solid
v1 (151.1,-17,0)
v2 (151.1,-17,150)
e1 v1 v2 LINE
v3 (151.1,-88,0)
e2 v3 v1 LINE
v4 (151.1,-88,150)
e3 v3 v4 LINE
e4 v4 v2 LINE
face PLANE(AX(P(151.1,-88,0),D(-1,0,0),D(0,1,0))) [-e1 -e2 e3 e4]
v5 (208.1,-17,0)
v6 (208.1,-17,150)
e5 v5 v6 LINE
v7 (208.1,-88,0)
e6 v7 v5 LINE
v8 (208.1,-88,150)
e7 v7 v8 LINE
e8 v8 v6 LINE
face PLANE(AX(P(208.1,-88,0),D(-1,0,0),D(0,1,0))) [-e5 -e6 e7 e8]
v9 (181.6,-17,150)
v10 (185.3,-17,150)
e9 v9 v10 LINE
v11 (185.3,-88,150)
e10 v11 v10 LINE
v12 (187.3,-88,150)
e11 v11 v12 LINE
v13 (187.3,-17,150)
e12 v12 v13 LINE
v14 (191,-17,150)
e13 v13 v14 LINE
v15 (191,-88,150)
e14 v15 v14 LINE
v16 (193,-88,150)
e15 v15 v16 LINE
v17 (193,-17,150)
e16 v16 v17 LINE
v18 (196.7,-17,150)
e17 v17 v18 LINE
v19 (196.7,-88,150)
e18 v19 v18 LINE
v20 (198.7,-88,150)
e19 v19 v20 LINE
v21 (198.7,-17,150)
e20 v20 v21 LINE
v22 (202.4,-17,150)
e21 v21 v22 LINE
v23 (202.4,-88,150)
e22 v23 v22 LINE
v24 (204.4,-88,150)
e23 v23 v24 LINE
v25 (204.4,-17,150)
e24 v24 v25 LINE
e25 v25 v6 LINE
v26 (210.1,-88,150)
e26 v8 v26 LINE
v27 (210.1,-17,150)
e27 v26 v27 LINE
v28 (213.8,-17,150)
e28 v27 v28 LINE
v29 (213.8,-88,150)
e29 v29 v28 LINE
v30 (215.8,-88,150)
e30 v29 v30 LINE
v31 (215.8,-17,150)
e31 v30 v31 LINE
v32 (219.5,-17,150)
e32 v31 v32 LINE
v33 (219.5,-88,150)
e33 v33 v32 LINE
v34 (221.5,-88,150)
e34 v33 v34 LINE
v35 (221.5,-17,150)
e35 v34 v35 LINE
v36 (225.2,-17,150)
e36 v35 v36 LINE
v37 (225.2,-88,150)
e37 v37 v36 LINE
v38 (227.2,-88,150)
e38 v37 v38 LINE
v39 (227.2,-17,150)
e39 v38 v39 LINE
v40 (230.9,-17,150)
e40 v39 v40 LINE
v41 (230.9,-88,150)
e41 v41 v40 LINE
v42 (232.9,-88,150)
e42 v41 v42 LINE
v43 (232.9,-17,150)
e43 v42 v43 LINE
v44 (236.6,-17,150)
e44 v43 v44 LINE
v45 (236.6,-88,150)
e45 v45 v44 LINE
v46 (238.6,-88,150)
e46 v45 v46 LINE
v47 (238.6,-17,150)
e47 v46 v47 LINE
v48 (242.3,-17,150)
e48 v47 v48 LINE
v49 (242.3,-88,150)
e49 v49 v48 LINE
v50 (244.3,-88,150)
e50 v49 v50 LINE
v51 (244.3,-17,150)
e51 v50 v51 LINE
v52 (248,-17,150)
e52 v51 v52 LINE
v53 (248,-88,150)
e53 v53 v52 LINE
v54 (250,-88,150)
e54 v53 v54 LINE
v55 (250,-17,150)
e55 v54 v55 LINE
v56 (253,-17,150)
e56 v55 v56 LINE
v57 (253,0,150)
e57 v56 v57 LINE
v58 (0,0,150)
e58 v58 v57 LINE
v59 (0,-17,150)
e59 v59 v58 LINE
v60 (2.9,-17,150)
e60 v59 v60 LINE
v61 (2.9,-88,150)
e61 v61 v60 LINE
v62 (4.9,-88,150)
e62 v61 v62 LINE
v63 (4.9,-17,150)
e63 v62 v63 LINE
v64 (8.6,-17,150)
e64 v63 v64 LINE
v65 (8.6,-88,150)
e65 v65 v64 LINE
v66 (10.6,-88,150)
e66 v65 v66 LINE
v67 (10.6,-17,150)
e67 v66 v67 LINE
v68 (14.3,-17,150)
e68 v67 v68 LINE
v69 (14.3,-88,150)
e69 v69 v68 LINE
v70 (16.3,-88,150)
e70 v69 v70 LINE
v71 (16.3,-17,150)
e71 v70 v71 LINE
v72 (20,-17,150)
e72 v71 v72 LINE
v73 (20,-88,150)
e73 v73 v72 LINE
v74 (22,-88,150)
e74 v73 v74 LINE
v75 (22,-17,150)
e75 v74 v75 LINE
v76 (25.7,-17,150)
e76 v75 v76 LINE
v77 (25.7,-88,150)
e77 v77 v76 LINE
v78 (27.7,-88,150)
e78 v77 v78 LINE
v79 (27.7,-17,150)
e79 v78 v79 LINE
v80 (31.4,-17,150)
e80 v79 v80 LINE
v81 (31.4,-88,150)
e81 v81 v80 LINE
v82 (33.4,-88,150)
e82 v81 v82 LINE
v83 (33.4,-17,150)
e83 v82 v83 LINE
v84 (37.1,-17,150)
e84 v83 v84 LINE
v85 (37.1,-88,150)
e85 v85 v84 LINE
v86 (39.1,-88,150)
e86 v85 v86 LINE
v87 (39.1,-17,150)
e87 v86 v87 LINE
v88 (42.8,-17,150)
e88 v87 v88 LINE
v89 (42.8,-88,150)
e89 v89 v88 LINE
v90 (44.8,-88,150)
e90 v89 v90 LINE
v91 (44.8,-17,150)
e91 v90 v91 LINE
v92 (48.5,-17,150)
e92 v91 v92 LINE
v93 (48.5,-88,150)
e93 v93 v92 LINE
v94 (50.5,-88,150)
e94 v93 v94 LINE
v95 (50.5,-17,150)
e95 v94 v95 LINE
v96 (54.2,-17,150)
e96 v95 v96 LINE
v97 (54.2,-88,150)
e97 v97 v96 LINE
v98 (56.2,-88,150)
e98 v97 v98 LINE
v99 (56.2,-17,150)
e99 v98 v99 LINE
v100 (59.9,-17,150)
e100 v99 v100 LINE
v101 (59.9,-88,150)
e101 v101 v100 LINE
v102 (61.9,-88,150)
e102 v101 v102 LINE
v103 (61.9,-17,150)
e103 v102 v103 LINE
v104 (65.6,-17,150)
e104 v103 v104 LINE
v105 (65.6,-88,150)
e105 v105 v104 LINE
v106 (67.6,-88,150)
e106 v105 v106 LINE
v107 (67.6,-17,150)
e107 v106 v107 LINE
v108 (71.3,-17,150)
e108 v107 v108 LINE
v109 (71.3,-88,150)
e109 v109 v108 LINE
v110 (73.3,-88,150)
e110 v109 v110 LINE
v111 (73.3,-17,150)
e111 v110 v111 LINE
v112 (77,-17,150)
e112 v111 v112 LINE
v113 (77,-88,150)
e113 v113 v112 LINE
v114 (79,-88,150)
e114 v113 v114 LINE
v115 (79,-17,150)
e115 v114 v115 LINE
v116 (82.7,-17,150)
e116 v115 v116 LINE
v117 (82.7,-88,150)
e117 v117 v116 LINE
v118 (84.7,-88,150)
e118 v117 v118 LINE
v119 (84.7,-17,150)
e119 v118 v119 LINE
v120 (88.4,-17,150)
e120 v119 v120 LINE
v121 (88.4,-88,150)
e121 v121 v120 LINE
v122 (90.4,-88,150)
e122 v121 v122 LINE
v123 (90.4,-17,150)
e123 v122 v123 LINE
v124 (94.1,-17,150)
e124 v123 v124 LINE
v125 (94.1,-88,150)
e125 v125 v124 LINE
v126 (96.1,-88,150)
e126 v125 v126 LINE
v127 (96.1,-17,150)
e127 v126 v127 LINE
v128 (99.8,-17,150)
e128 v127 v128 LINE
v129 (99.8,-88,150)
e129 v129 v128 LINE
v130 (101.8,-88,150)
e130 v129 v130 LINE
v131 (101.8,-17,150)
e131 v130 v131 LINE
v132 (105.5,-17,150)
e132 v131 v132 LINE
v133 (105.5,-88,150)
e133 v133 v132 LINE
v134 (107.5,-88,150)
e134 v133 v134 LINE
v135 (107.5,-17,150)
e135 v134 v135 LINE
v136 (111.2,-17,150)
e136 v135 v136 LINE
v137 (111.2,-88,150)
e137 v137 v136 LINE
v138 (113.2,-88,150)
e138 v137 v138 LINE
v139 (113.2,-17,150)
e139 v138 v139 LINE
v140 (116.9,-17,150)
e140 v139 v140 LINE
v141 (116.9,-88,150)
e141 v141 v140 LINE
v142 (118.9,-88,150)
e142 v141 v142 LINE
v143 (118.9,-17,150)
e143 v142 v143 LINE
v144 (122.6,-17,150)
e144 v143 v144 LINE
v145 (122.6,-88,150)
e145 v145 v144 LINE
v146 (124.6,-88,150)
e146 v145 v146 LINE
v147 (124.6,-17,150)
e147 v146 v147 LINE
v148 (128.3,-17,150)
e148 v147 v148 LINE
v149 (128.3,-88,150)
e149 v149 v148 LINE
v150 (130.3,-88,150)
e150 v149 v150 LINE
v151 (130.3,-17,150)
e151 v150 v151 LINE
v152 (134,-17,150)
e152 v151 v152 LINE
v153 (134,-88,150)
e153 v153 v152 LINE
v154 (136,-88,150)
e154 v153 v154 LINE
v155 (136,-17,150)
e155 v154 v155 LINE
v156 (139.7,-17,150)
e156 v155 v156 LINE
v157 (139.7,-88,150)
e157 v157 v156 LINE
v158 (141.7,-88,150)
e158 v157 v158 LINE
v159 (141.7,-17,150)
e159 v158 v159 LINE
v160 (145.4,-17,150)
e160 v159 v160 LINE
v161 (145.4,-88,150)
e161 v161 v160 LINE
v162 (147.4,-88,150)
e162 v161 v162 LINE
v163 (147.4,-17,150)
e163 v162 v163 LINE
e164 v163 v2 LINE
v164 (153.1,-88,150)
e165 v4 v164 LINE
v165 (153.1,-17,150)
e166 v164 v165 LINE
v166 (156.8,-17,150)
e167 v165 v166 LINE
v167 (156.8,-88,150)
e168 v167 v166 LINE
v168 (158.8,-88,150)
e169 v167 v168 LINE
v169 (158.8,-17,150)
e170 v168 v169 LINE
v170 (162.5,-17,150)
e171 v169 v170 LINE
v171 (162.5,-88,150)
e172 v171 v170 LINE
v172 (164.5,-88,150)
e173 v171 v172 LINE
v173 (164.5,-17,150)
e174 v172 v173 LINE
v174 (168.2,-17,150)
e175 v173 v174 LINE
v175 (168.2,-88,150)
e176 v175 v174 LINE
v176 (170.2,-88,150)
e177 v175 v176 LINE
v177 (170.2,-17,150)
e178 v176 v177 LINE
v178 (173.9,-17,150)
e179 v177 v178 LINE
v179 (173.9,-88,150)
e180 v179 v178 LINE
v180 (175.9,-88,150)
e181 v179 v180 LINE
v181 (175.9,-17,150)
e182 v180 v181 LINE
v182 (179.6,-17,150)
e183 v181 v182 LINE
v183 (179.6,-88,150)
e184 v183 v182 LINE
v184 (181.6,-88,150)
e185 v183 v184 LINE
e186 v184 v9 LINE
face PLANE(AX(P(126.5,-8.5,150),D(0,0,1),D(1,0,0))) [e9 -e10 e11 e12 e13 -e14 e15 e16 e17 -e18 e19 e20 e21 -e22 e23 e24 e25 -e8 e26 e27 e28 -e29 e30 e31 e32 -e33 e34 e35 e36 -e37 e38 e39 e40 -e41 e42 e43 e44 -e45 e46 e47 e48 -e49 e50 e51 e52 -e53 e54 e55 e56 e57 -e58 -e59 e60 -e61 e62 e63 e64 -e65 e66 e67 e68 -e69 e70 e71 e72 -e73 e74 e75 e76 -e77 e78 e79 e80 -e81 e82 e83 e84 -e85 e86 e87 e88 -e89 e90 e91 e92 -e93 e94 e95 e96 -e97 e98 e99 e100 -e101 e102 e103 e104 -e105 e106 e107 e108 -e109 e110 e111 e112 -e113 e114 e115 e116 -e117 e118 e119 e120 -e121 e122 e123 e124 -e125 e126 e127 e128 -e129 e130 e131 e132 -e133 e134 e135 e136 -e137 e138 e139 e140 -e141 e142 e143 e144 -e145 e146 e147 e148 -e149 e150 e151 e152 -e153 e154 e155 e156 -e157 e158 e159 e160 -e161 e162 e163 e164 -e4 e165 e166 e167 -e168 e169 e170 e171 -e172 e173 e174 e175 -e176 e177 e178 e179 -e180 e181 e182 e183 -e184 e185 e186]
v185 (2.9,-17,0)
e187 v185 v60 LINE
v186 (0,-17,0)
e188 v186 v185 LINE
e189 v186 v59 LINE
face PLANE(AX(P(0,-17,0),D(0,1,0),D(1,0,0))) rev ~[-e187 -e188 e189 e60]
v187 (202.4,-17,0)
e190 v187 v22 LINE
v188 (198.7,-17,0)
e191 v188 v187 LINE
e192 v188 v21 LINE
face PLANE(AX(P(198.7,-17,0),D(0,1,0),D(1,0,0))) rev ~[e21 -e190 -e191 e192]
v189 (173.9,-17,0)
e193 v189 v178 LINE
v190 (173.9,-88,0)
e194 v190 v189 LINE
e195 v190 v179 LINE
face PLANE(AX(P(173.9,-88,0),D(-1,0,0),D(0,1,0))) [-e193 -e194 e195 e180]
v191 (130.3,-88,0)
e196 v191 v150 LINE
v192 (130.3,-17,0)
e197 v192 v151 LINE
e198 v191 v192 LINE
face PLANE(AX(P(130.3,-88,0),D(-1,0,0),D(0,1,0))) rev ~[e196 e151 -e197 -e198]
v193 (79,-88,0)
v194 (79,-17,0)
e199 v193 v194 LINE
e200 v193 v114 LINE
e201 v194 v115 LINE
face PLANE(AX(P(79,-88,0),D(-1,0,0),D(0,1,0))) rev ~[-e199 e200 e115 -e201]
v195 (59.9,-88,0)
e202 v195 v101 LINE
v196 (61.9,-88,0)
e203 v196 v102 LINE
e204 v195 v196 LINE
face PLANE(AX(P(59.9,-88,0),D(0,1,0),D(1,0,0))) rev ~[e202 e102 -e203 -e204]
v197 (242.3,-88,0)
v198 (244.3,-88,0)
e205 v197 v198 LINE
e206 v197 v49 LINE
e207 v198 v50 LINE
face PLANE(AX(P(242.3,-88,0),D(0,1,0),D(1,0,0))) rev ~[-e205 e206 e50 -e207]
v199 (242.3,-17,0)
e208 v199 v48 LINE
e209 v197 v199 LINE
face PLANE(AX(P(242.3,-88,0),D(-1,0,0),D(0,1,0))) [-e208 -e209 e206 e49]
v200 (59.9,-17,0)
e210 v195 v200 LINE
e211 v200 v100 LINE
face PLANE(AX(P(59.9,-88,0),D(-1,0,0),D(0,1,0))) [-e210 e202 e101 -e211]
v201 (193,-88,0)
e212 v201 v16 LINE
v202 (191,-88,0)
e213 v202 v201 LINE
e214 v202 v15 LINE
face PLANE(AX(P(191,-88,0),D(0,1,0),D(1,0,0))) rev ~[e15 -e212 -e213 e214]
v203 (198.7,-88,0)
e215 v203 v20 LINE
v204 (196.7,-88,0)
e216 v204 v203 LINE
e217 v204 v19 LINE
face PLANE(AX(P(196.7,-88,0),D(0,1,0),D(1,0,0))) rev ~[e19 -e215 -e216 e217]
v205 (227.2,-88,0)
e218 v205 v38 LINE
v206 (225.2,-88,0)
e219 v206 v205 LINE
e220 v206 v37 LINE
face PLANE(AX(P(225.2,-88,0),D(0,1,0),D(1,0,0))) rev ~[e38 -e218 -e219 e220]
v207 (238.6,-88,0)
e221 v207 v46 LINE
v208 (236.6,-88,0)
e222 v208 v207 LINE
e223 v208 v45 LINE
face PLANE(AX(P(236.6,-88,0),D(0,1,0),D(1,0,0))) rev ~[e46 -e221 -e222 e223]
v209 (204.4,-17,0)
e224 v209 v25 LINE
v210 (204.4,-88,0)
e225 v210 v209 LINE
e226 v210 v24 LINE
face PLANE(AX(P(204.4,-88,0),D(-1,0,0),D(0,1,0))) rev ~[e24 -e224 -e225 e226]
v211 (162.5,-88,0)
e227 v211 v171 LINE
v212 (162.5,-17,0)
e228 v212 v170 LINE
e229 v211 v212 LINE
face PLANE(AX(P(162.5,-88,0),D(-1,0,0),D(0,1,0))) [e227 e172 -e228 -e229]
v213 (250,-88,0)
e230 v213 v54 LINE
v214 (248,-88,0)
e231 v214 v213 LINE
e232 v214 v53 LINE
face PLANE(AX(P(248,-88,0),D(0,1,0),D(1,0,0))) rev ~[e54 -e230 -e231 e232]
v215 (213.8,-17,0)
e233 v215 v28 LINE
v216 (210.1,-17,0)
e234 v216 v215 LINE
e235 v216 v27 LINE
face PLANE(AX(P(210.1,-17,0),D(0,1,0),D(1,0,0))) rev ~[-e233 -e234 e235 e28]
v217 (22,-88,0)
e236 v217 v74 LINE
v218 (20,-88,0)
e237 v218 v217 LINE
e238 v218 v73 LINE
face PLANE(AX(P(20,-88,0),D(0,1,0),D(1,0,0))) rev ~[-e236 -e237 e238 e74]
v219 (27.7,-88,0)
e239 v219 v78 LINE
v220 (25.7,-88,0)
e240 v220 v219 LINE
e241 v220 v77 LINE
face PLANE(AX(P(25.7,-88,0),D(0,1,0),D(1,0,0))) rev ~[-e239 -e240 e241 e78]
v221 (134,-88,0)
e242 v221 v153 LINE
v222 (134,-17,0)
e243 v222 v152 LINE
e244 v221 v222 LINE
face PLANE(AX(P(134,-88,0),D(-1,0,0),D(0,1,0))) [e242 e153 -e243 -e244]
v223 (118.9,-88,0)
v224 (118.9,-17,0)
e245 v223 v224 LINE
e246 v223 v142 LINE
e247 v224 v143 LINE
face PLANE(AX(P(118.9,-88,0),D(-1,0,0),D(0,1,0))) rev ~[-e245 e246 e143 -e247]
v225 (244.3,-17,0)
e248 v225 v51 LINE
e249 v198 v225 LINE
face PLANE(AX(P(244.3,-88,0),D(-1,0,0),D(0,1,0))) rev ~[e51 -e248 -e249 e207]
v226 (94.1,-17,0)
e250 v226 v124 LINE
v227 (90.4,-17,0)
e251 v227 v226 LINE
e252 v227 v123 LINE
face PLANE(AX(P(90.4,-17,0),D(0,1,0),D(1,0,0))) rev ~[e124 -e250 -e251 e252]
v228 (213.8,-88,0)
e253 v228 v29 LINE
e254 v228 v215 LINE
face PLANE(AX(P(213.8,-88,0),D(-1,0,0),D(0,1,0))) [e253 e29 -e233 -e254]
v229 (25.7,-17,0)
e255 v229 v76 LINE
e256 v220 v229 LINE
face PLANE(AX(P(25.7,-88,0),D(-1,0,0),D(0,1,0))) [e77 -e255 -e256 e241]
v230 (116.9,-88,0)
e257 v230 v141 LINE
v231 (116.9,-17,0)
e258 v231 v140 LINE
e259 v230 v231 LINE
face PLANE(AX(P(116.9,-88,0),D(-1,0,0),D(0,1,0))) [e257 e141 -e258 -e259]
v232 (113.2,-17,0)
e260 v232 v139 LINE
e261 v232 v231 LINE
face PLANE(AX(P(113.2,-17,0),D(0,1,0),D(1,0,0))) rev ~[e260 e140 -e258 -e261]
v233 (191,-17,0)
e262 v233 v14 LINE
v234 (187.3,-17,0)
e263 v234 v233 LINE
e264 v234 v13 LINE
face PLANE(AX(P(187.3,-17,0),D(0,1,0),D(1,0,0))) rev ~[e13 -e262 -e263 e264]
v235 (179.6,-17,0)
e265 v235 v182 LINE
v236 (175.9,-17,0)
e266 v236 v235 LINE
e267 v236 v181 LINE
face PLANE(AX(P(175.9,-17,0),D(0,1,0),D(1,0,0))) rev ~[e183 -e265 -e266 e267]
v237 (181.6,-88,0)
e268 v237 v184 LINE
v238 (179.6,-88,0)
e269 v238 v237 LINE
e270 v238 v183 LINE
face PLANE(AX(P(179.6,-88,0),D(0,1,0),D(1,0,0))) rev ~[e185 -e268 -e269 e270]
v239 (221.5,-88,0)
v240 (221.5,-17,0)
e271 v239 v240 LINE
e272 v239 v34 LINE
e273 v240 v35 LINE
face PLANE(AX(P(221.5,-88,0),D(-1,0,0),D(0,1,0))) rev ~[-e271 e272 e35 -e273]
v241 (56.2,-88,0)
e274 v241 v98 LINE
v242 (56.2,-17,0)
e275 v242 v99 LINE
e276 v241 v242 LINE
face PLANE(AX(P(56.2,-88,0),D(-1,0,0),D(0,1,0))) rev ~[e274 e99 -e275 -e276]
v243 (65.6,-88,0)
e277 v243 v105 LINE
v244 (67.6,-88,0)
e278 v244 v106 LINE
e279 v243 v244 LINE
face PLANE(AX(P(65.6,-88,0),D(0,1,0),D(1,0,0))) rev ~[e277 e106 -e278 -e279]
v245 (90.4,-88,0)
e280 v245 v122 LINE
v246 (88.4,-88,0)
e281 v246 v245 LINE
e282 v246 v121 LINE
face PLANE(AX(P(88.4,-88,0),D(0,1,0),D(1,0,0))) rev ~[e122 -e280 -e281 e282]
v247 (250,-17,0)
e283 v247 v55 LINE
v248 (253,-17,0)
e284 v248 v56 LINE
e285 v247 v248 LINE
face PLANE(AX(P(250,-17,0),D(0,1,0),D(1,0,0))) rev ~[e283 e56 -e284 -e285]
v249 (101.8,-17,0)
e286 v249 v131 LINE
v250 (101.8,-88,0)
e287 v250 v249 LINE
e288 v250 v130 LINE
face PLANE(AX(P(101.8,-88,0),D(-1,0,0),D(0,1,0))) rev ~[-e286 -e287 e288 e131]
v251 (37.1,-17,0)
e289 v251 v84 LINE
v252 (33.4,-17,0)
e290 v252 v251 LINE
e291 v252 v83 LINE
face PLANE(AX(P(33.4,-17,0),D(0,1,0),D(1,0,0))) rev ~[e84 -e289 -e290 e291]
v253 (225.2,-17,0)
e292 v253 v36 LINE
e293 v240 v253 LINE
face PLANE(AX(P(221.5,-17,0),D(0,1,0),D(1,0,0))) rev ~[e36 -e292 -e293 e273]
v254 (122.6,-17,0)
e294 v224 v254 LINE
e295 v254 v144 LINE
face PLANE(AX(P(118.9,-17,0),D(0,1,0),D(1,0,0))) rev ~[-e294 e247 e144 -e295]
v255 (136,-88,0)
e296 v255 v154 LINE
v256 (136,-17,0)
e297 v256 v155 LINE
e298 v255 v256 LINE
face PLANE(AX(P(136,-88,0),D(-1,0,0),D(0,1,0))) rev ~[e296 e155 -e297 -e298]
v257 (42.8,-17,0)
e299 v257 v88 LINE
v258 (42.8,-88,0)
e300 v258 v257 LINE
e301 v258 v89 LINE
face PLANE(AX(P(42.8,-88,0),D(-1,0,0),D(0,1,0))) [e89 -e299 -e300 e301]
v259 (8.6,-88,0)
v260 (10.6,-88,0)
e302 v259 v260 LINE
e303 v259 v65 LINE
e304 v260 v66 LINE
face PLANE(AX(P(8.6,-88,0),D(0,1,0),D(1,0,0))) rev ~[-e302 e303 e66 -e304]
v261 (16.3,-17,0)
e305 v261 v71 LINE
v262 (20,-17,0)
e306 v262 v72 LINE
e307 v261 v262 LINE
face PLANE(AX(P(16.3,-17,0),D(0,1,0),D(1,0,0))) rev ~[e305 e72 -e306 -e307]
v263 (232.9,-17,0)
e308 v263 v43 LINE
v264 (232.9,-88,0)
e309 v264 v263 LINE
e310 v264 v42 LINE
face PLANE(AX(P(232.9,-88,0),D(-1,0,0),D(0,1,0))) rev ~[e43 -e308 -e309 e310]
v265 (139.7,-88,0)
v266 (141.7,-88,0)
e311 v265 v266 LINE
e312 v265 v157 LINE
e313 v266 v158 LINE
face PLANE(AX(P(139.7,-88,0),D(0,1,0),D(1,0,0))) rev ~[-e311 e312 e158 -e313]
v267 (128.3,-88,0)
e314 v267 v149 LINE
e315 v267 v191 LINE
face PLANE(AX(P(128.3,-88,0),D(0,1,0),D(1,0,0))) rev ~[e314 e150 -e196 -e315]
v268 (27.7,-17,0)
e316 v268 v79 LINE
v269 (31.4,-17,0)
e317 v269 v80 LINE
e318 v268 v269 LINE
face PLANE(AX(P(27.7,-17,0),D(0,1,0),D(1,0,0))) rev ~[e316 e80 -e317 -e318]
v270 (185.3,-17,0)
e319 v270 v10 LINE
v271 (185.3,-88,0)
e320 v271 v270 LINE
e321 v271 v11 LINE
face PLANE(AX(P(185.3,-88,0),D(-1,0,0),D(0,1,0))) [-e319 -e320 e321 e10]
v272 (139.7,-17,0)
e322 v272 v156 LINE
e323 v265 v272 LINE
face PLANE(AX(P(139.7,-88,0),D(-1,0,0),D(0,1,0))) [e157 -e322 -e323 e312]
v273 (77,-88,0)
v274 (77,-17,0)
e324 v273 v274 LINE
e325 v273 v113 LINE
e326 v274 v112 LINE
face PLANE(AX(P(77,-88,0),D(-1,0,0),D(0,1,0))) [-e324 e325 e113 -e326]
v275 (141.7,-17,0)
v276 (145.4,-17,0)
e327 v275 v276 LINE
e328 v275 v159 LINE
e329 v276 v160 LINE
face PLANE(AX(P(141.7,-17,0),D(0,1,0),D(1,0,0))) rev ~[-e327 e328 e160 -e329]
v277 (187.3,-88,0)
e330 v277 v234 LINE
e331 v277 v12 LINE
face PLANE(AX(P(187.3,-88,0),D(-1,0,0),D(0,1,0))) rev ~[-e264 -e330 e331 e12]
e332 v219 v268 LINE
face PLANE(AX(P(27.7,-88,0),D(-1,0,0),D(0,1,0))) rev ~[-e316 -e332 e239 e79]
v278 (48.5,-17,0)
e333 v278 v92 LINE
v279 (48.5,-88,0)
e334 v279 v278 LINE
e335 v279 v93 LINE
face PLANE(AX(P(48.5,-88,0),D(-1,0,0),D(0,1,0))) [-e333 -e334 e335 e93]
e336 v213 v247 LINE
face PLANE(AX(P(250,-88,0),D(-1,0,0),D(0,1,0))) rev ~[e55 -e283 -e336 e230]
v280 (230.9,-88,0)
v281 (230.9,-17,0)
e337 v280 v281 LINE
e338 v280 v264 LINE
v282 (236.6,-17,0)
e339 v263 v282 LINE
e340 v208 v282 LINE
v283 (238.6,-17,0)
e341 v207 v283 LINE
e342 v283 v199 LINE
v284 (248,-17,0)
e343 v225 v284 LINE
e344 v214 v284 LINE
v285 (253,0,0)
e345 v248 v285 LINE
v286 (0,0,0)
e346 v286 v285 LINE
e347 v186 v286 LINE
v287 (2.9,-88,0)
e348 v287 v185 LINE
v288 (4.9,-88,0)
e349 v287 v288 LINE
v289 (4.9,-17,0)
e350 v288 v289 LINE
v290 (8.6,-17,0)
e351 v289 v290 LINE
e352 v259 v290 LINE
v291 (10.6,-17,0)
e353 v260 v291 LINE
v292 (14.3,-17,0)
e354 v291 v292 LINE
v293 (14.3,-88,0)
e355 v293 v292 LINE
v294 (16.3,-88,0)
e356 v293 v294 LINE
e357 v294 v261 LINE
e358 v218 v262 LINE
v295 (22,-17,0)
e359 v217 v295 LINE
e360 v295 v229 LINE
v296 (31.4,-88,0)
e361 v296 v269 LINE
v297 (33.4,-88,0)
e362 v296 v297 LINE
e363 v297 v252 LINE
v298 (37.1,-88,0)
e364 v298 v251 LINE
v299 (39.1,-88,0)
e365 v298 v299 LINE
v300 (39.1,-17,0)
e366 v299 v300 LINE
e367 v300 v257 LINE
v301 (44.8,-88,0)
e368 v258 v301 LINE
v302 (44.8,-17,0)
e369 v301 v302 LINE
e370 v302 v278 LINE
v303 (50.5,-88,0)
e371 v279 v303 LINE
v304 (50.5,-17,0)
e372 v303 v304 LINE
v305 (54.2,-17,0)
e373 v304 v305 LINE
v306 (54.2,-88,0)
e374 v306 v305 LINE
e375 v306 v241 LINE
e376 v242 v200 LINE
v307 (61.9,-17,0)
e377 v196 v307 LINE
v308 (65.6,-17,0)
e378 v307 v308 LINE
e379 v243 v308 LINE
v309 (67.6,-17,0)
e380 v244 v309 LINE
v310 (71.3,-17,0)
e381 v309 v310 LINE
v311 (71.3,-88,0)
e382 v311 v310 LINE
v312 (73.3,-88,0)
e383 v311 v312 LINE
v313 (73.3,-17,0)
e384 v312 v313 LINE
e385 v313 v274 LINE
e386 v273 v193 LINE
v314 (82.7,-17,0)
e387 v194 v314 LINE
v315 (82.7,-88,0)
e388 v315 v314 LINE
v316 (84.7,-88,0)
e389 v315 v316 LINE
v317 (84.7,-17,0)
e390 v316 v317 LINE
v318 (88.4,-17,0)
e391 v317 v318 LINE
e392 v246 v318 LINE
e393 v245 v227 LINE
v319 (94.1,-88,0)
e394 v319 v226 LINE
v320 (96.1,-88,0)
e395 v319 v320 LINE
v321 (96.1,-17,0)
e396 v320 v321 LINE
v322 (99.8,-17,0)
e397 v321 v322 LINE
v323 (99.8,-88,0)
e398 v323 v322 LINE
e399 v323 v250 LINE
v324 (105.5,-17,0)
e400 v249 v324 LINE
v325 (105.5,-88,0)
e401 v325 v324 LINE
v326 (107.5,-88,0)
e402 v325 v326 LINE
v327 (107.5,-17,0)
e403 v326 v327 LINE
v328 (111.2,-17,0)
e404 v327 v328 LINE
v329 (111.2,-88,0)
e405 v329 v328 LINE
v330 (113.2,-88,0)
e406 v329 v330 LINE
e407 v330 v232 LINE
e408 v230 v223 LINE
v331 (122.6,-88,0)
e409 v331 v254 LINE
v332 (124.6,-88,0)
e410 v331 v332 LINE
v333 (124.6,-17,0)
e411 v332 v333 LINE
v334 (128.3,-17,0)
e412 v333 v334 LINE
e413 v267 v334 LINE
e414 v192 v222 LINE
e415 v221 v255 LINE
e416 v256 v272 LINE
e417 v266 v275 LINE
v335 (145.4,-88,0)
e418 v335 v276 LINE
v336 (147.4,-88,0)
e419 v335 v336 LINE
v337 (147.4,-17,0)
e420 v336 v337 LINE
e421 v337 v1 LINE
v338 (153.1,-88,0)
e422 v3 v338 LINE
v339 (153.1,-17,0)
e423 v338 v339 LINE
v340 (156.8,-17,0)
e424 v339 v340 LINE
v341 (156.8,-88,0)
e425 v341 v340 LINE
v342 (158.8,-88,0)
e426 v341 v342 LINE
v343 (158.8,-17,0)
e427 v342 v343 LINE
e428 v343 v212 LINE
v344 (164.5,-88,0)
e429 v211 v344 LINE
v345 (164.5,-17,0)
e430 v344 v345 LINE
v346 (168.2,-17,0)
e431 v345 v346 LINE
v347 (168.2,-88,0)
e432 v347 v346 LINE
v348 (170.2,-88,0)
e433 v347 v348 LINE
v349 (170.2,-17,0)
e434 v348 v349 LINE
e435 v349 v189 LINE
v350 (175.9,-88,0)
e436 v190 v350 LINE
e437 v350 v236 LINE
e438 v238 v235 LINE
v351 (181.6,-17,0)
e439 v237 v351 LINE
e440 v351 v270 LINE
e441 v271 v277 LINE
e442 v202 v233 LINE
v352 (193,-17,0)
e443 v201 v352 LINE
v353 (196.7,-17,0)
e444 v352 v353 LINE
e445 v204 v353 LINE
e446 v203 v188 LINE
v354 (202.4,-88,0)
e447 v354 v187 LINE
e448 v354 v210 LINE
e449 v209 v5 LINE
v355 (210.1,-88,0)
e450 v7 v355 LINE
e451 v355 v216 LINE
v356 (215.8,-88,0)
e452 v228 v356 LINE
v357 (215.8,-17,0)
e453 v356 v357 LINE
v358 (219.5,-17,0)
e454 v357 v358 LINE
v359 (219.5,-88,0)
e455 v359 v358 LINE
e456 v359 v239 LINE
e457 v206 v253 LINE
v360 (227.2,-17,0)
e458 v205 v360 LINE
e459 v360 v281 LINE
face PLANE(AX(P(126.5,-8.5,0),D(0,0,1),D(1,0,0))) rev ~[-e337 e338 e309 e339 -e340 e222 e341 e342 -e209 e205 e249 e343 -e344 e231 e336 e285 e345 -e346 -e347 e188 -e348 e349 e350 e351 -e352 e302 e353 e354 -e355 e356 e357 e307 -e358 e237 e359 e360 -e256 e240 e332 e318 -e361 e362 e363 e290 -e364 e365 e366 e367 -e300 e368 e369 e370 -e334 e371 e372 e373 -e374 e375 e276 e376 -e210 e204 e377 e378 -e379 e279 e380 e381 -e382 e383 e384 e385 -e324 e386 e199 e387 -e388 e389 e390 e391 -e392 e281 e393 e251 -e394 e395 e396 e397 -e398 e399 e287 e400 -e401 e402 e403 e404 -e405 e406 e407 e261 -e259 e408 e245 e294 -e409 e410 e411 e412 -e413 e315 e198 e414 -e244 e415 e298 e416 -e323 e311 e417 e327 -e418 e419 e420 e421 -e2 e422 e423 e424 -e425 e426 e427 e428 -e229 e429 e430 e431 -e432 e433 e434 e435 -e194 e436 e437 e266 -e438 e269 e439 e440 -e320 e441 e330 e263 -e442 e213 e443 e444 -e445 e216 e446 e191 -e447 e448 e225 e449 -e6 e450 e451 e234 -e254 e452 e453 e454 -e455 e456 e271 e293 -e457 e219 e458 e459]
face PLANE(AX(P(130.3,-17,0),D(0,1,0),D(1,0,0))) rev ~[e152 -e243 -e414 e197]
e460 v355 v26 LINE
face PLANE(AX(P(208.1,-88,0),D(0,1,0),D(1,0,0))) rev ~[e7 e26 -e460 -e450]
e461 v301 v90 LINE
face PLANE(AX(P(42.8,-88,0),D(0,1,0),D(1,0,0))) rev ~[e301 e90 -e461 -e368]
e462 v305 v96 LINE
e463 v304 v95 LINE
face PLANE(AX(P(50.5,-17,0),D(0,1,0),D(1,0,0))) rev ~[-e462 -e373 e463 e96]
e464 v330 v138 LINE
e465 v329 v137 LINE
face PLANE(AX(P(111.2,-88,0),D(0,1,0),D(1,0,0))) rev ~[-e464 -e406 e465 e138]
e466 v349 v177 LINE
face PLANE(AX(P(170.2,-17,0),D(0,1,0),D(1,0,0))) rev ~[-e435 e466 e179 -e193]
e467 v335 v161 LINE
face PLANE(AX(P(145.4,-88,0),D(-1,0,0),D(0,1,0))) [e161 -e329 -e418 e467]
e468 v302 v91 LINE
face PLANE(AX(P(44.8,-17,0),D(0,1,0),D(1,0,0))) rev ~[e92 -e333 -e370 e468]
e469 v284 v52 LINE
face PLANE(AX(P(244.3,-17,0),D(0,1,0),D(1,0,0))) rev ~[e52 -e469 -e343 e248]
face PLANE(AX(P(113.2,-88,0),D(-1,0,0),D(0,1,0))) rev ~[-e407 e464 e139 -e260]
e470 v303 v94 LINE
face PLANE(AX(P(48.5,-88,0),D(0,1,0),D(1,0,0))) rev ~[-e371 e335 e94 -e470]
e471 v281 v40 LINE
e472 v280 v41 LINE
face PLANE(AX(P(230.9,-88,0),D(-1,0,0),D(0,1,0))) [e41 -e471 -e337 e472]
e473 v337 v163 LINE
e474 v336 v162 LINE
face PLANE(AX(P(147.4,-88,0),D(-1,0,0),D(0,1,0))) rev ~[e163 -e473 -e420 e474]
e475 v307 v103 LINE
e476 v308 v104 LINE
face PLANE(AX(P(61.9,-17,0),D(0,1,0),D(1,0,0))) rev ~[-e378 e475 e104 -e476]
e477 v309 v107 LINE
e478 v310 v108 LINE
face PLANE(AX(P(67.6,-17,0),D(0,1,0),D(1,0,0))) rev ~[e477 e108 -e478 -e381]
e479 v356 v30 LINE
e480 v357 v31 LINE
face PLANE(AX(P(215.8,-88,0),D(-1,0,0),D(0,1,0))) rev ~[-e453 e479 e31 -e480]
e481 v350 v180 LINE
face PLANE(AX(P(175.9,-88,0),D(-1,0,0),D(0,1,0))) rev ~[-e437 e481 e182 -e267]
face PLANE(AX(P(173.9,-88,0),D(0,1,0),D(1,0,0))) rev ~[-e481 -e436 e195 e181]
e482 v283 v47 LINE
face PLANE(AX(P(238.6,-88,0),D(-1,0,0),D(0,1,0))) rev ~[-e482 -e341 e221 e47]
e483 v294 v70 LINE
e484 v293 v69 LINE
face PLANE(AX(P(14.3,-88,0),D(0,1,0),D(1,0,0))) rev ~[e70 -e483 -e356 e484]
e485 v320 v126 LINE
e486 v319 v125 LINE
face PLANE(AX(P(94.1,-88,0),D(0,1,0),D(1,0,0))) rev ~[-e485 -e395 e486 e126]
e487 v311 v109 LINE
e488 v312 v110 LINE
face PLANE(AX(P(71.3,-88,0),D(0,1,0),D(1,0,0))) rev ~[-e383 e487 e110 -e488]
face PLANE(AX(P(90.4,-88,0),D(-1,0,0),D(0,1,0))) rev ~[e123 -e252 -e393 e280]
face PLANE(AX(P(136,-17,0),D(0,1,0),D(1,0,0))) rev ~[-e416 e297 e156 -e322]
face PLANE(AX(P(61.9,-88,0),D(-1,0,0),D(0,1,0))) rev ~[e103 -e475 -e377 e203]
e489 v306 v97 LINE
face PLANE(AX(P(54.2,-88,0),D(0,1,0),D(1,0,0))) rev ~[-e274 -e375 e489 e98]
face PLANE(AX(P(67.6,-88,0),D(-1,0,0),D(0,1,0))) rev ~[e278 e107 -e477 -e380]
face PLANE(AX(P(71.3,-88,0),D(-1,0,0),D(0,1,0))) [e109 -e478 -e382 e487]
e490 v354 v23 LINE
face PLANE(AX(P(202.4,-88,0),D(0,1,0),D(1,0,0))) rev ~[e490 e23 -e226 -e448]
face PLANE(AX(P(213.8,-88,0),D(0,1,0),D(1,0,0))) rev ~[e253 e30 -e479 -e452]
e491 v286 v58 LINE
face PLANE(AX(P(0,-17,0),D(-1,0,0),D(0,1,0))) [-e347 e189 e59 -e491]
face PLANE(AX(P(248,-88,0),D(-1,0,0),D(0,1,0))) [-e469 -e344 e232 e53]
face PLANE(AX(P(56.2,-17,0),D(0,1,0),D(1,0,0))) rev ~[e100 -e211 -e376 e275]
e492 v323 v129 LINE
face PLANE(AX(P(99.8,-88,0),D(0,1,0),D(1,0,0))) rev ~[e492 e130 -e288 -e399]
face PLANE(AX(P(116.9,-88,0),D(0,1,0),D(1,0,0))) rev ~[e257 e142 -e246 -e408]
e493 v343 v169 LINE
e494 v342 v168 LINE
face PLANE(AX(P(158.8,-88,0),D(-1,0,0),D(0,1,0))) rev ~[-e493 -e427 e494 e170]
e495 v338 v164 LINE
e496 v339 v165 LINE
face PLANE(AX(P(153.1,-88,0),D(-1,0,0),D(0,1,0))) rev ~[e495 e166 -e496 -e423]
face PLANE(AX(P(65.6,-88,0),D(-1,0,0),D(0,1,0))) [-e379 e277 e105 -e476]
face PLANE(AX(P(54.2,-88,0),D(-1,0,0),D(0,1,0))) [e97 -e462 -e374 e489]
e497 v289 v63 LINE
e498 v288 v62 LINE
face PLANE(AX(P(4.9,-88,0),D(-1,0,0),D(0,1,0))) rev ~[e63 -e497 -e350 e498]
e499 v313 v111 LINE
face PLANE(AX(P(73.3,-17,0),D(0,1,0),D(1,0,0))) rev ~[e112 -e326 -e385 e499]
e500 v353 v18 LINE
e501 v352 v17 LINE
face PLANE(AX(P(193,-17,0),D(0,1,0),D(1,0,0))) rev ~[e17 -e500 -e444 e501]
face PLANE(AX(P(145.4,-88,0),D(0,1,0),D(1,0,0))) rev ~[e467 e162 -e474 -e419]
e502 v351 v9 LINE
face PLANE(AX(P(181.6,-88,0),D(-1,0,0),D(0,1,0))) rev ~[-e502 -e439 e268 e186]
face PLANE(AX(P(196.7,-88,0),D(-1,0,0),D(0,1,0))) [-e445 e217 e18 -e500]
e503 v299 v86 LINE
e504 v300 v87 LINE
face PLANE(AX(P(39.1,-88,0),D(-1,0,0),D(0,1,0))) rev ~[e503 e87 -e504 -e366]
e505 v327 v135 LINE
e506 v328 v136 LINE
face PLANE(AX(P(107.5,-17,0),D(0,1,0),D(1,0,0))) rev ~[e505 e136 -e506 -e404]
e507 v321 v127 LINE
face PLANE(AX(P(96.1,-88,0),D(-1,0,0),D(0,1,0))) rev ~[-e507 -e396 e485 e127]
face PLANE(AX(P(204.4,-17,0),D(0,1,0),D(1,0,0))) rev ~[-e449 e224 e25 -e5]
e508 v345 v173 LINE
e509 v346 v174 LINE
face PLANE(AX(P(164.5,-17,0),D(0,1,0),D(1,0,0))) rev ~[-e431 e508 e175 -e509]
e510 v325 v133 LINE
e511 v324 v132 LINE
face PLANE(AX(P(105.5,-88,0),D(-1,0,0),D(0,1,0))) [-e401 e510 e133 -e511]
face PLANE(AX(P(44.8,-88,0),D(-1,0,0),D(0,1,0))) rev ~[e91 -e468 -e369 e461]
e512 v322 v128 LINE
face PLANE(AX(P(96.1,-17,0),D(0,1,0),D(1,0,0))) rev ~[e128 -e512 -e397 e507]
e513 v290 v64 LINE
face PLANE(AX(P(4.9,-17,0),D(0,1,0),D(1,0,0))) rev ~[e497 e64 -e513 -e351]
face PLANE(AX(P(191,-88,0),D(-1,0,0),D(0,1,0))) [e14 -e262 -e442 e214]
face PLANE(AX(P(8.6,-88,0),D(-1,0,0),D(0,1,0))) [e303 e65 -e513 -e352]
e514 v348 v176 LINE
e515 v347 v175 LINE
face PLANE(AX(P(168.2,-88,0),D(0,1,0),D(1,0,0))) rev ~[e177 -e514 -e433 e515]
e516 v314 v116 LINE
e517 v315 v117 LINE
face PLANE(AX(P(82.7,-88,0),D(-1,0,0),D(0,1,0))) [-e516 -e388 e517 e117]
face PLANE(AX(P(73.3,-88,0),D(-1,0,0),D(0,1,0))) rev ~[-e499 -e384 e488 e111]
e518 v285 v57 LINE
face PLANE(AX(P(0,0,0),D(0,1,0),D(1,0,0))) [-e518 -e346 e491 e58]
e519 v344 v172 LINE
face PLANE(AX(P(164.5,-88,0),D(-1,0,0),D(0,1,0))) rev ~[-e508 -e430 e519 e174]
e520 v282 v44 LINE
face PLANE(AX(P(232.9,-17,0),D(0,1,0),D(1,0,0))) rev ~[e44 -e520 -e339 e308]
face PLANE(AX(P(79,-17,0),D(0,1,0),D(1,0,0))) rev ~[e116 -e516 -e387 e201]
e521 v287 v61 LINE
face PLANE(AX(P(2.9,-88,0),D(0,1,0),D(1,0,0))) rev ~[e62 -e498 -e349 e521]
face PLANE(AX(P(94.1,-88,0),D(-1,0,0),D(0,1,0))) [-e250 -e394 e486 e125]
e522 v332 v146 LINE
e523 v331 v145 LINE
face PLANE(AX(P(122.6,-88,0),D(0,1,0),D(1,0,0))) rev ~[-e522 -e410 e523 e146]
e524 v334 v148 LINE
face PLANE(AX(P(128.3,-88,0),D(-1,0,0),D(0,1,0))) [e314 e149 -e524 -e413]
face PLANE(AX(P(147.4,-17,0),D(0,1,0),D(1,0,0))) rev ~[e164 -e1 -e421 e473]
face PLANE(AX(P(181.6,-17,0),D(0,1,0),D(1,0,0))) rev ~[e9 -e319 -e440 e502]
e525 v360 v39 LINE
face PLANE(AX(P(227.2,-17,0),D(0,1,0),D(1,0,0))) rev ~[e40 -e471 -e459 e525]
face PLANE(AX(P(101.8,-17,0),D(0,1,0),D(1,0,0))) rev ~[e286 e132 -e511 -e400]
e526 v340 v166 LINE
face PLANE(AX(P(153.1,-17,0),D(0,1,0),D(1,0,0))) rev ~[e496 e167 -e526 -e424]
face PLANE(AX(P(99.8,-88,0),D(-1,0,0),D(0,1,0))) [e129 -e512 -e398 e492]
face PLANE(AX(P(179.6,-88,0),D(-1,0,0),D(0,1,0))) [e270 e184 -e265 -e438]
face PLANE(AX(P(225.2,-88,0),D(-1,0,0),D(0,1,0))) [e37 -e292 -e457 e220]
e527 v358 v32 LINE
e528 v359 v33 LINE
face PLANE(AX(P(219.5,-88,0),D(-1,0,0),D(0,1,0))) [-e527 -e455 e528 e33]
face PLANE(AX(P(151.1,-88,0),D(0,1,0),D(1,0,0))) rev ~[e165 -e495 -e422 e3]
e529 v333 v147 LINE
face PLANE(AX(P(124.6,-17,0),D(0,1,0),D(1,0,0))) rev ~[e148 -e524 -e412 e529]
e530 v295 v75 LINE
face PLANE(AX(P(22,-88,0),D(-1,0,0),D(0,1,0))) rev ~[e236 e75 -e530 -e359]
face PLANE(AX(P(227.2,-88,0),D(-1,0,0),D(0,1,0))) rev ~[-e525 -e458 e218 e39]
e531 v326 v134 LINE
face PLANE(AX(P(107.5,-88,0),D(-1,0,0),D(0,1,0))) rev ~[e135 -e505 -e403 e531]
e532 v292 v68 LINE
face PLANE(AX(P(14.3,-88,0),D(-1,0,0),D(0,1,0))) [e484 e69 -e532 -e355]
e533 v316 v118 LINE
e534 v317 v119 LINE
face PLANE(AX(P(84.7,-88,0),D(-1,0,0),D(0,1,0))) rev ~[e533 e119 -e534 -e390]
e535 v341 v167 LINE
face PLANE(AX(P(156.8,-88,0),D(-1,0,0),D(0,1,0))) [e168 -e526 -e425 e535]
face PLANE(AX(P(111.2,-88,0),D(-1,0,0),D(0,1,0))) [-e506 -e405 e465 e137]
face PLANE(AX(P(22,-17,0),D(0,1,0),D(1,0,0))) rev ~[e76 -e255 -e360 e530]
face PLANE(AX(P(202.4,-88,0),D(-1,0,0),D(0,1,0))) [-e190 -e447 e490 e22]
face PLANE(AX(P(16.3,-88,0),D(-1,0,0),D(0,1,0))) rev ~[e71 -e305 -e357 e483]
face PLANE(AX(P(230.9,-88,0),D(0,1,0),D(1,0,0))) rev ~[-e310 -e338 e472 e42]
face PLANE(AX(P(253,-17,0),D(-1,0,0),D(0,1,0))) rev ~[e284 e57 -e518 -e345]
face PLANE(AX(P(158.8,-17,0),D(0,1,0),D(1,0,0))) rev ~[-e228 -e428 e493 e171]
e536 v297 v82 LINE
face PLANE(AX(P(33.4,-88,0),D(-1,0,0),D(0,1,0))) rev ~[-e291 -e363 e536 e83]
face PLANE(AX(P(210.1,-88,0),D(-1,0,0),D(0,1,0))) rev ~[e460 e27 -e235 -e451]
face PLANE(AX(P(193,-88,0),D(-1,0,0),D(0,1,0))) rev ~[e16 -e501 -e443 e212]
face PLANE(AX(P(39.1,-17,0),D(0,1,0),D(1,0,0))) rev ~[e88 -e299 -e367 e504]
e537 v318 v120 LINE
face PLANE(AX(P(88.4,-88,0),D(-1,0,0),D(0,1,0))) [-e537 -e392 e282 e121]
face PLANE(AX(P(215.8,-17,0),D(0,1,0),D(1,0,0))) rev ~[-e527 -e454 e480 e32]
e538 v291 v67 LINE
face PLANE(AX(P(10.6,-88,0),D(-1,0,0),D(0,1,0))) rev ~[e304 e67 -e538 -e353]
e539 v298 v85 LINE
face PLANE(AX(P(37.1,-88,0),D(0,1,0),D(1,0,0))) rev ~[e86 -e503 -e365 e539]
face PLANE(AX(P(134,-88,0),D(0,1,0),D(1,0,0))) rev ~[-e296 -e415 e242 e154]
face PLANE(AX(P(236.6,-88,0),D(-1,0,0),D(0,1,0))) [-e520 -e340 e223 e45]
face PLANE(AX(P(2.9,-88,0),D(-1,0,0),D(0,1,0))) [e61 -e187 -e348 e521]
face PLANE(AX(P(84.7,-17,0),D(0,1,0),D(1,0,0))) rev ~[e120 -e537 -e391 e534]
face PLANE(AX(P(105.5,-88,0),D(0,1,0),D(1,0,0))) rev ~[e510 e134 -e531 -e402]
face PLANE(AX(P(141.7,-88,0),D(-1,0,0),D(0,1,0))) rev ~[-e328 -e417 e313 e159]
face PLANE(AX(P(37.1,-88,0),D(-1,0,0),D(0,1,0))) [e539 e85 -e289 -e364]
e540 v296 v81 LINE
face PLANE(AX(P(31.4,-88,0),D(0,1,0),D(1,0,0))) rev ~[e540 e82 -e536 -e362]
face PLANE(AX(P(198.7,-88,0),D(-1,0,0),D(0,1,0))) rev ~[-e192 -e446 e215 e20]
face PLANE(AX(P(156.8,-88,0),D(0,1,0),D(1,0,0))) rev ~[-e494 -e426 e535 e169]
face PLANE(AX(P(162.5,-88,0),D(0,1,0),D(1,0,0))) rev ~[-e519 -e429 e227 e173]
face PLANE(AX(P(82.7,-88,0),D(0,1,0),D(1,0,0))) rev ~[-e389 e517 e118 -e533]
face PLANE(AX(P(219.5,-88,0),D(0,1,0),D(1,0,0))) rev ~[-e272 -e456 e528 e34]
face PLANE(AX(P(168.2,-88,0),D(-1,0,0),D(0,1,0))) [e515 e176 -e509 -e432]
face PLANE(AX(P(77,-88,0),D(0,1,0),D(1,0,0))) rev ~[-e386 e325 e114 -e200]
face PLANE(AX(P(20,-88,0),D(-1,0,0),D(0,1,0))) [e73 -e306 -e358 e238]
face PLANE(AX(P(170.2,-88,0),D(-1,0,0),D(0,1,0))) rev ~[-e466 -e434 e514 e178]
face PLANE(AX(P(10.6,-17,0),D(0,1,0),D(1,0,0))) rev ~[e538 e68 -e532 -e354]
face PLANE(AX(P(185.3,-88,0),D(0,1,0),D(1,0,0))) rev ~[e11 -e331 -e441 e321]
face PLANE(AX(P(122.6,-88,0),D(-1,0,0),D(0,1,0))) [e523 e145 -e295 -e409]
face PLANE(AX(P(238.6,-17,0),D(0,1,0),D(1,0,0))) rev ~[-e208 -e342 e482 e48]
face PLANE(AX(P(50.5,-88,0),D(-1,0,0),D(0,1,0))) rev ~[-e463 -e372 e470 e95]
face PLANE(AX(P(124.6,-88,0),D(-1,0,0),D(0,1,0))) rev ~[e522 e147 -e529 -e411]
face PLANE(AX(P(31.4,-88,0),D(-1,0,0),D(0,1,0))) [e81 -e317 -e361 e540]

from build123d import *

# Parameters (mm, degrees)
SKETCH_1_W      = 253
SKETCH_1_H      = 17
SKETCH_1_W_2    = 2
SKETCH_1_H_2    = 71
EXTRUDE_1_DEPTH = 150


with BuildPart() as part:
    # 草图1 → 凸台-拉伸1 (new body)
    with BuildSketch(Plane.XY):
        with Locations((126.5, -8.5)):
            Rectangle(SKETCH_1_W, SKETCH_1_H)
        with Locations((3.9, -52.5)):
            Rectangle(SKETCH_1_W_2, SKETCH_1_H_2)
        with Locations((9.6, -52.5)):
            Rectangle(SKETCH_1_W_2, SKETCH_1_H_2)
        with Locations((15.3, -52.5)):
            Rectangle(SKETCH_1_W_2, SKETCH_1_H_2)
        with Locations((21, -52.5)):
            Rectangle(SKETCH_1_W_2, SKETCH_1_H_2)
        with Locations((26.7, -52.5)):
            Rectangle(SKETCH_1_W_2, SKETCH_1_H_2)
        with Locations((32.4, -52.5)):
            Rectangle(SKETCH_1_W_2, SKETCH_1_H_2)
        with Locations((38.1, -52.5)):
            Rectangle(SKETCH_1_W_2, SKETCH_1_H_2)
        with Locations((43.8, -52.5)):
            Rectangle(SKETCH_1_W_2, SKETCH_1_H_2)
        with Locations((49.5, -52.5)):
            Rectangle(SKETCH_1_W_2, SKETCH_1_H_2)
        with Locations((55.2, -52.5)):
            Rectangle(SKETCH_1_W_2, SKETCH_1_H_2)
        with Locations((60.9, -52.5)):
            Rectangle(SKETCH_1_W_2, SKETCH_1_H_2)
        with Locations((66.6, -52.5)):
            Rectangle(SKETCH_1_W_2, SKETCH_1_H_2)
        with Locations((72.3, -52.5)):
            Rectangle(SKETCH_1_W_2, SKETCH_1_H_2)
        with Locations((78, -52.5)):
            Rectangle(SKETCH_1_W_2, SKETCH_1_H_2)
        with Locations((83.7, -52.5)):
            Rectangle(SKETCH_1_W_2, SKETCH_1_H_2)
        with Locations((89.4, -52.5)):
            Rectangle(SKETCH_1_W_2, SKETCH_1_H_2)
        with Locations((95.1, -52.5)):
            Rectangle(SKETCH_1_W_2, SKETCH_1_H_2)
        with Locations((100.8, -52.5)):
            Rectangle(SKETCH_1_W_2, SKETCH_1_H_2)
        with Locations((106.5, -52.5)):
            Rectangle(SKETCH_1_W_2, SKETCH_1_H_2)
        with Locations((112.2, -52.5)):
            Rectangle(SKETCH_1_W_2, SKETCH_1_H_2)
        with Locations((117.9, -52.5)):
            Rectangle(SKETCH_1_W_2, SKETCH_1_H_2)
        with Locations((123.6, -52.5)):
            Rectangle(SKETCH_1_W_2, SKETCH_1_H_2)
        with Locations((129.3, -52.5)):
            Rectangle(SKETCH_1_W_2, SKETCH_1_H_2)
        with Locations((135, -52.5)):
            Rectangle(SKETCH_1_W_2, SKETCH_1_H_2)
        with Locations((140.7, -52.5)):
            Rectangle(SKETCH_1_W_2, SKETCH_1_H_2)
        with Locations((146.4, -52.5)):
            Rectangle(SKETCH_1_W_2, SKETCH_1_H_2)
        with Locations((152.1, -52.5)):
            Rectangle(SKETCH_1_W_2, SKETCH_1_H_2)
        with Locations((157.8, -52.5)):
            Rectangle(SKETCH_1_W_2, SKETCH_1_H_2)
        with Locations((163.5, -52.5)):
            Rectangle(SKETCH_1_W_2, SKETCH_1_H_2)
        with Locations((169.2, -52.5)):
            Rectangle(SKETCH_1_W_2, SKETCH_1_H_2)
        with Locations((174.9, -52.5)):
            Rectangle(SKETCH_1_W_2, SKETCH_1_H_2)
        with Locations((180.6, -52.5)):
            Rectangle(SKETCH_1_W_2, SKETCH_1_H_2)
        with Locations((186.3, -52.5)):
            Rectangle(SKETCH_1_W_2, SKETCH_1_H_2)
        with Locations((192, -52.5)):
            Rectangle(SKETCH_1_W_2, SKETCH_1_H_2)
        with Locations((197.7, -52.5)):
            Rectangle(SKETCH_1_W_2, SKETCH_1_H_2)
        with Locations((203.4, -52.5)):
            Rectangle(SKETCH_1_W_2, SKETCH_1_H_2)
        with Locations((209.1, -52.5)):
            Rectangle(SKETCH_1_W_2, SKETCH_1_H_2)
        with Locations((214.8, -52.5)):
            Rectangle(SKETCH_1_W_2, SKETCH_1_H_2)
        with Locations((220.5, -52.5)):
            Rectangle(SKETCH_1_W_2, SKETCH_1_H_2)
        with Locations((226.2, -52.5)):
            Rectangle(SKETCH_1_W_2, SKETCH_1_H_2)
        with Locations((231.9, -52.5)):
            Rectangle(SKETCH_1_W_2, SKETCH_1_H_2)
        with Locations((237.6, -52.5)):
            Rectangle(SKETCH_1_W_2, SKETCH_1_H_2)
        with Locations((243.3, -52.5)):
            Rectangle(SKETCH_1_W_2, SKETCH_1_H_2)
        with Locations((249, -52.5)):
            Rectangle(SKETCH_1_W_2, SKETCH_1_H_2)
    extrude(amount=EXTRUDE_1_DEPTH)


solid = part.part
